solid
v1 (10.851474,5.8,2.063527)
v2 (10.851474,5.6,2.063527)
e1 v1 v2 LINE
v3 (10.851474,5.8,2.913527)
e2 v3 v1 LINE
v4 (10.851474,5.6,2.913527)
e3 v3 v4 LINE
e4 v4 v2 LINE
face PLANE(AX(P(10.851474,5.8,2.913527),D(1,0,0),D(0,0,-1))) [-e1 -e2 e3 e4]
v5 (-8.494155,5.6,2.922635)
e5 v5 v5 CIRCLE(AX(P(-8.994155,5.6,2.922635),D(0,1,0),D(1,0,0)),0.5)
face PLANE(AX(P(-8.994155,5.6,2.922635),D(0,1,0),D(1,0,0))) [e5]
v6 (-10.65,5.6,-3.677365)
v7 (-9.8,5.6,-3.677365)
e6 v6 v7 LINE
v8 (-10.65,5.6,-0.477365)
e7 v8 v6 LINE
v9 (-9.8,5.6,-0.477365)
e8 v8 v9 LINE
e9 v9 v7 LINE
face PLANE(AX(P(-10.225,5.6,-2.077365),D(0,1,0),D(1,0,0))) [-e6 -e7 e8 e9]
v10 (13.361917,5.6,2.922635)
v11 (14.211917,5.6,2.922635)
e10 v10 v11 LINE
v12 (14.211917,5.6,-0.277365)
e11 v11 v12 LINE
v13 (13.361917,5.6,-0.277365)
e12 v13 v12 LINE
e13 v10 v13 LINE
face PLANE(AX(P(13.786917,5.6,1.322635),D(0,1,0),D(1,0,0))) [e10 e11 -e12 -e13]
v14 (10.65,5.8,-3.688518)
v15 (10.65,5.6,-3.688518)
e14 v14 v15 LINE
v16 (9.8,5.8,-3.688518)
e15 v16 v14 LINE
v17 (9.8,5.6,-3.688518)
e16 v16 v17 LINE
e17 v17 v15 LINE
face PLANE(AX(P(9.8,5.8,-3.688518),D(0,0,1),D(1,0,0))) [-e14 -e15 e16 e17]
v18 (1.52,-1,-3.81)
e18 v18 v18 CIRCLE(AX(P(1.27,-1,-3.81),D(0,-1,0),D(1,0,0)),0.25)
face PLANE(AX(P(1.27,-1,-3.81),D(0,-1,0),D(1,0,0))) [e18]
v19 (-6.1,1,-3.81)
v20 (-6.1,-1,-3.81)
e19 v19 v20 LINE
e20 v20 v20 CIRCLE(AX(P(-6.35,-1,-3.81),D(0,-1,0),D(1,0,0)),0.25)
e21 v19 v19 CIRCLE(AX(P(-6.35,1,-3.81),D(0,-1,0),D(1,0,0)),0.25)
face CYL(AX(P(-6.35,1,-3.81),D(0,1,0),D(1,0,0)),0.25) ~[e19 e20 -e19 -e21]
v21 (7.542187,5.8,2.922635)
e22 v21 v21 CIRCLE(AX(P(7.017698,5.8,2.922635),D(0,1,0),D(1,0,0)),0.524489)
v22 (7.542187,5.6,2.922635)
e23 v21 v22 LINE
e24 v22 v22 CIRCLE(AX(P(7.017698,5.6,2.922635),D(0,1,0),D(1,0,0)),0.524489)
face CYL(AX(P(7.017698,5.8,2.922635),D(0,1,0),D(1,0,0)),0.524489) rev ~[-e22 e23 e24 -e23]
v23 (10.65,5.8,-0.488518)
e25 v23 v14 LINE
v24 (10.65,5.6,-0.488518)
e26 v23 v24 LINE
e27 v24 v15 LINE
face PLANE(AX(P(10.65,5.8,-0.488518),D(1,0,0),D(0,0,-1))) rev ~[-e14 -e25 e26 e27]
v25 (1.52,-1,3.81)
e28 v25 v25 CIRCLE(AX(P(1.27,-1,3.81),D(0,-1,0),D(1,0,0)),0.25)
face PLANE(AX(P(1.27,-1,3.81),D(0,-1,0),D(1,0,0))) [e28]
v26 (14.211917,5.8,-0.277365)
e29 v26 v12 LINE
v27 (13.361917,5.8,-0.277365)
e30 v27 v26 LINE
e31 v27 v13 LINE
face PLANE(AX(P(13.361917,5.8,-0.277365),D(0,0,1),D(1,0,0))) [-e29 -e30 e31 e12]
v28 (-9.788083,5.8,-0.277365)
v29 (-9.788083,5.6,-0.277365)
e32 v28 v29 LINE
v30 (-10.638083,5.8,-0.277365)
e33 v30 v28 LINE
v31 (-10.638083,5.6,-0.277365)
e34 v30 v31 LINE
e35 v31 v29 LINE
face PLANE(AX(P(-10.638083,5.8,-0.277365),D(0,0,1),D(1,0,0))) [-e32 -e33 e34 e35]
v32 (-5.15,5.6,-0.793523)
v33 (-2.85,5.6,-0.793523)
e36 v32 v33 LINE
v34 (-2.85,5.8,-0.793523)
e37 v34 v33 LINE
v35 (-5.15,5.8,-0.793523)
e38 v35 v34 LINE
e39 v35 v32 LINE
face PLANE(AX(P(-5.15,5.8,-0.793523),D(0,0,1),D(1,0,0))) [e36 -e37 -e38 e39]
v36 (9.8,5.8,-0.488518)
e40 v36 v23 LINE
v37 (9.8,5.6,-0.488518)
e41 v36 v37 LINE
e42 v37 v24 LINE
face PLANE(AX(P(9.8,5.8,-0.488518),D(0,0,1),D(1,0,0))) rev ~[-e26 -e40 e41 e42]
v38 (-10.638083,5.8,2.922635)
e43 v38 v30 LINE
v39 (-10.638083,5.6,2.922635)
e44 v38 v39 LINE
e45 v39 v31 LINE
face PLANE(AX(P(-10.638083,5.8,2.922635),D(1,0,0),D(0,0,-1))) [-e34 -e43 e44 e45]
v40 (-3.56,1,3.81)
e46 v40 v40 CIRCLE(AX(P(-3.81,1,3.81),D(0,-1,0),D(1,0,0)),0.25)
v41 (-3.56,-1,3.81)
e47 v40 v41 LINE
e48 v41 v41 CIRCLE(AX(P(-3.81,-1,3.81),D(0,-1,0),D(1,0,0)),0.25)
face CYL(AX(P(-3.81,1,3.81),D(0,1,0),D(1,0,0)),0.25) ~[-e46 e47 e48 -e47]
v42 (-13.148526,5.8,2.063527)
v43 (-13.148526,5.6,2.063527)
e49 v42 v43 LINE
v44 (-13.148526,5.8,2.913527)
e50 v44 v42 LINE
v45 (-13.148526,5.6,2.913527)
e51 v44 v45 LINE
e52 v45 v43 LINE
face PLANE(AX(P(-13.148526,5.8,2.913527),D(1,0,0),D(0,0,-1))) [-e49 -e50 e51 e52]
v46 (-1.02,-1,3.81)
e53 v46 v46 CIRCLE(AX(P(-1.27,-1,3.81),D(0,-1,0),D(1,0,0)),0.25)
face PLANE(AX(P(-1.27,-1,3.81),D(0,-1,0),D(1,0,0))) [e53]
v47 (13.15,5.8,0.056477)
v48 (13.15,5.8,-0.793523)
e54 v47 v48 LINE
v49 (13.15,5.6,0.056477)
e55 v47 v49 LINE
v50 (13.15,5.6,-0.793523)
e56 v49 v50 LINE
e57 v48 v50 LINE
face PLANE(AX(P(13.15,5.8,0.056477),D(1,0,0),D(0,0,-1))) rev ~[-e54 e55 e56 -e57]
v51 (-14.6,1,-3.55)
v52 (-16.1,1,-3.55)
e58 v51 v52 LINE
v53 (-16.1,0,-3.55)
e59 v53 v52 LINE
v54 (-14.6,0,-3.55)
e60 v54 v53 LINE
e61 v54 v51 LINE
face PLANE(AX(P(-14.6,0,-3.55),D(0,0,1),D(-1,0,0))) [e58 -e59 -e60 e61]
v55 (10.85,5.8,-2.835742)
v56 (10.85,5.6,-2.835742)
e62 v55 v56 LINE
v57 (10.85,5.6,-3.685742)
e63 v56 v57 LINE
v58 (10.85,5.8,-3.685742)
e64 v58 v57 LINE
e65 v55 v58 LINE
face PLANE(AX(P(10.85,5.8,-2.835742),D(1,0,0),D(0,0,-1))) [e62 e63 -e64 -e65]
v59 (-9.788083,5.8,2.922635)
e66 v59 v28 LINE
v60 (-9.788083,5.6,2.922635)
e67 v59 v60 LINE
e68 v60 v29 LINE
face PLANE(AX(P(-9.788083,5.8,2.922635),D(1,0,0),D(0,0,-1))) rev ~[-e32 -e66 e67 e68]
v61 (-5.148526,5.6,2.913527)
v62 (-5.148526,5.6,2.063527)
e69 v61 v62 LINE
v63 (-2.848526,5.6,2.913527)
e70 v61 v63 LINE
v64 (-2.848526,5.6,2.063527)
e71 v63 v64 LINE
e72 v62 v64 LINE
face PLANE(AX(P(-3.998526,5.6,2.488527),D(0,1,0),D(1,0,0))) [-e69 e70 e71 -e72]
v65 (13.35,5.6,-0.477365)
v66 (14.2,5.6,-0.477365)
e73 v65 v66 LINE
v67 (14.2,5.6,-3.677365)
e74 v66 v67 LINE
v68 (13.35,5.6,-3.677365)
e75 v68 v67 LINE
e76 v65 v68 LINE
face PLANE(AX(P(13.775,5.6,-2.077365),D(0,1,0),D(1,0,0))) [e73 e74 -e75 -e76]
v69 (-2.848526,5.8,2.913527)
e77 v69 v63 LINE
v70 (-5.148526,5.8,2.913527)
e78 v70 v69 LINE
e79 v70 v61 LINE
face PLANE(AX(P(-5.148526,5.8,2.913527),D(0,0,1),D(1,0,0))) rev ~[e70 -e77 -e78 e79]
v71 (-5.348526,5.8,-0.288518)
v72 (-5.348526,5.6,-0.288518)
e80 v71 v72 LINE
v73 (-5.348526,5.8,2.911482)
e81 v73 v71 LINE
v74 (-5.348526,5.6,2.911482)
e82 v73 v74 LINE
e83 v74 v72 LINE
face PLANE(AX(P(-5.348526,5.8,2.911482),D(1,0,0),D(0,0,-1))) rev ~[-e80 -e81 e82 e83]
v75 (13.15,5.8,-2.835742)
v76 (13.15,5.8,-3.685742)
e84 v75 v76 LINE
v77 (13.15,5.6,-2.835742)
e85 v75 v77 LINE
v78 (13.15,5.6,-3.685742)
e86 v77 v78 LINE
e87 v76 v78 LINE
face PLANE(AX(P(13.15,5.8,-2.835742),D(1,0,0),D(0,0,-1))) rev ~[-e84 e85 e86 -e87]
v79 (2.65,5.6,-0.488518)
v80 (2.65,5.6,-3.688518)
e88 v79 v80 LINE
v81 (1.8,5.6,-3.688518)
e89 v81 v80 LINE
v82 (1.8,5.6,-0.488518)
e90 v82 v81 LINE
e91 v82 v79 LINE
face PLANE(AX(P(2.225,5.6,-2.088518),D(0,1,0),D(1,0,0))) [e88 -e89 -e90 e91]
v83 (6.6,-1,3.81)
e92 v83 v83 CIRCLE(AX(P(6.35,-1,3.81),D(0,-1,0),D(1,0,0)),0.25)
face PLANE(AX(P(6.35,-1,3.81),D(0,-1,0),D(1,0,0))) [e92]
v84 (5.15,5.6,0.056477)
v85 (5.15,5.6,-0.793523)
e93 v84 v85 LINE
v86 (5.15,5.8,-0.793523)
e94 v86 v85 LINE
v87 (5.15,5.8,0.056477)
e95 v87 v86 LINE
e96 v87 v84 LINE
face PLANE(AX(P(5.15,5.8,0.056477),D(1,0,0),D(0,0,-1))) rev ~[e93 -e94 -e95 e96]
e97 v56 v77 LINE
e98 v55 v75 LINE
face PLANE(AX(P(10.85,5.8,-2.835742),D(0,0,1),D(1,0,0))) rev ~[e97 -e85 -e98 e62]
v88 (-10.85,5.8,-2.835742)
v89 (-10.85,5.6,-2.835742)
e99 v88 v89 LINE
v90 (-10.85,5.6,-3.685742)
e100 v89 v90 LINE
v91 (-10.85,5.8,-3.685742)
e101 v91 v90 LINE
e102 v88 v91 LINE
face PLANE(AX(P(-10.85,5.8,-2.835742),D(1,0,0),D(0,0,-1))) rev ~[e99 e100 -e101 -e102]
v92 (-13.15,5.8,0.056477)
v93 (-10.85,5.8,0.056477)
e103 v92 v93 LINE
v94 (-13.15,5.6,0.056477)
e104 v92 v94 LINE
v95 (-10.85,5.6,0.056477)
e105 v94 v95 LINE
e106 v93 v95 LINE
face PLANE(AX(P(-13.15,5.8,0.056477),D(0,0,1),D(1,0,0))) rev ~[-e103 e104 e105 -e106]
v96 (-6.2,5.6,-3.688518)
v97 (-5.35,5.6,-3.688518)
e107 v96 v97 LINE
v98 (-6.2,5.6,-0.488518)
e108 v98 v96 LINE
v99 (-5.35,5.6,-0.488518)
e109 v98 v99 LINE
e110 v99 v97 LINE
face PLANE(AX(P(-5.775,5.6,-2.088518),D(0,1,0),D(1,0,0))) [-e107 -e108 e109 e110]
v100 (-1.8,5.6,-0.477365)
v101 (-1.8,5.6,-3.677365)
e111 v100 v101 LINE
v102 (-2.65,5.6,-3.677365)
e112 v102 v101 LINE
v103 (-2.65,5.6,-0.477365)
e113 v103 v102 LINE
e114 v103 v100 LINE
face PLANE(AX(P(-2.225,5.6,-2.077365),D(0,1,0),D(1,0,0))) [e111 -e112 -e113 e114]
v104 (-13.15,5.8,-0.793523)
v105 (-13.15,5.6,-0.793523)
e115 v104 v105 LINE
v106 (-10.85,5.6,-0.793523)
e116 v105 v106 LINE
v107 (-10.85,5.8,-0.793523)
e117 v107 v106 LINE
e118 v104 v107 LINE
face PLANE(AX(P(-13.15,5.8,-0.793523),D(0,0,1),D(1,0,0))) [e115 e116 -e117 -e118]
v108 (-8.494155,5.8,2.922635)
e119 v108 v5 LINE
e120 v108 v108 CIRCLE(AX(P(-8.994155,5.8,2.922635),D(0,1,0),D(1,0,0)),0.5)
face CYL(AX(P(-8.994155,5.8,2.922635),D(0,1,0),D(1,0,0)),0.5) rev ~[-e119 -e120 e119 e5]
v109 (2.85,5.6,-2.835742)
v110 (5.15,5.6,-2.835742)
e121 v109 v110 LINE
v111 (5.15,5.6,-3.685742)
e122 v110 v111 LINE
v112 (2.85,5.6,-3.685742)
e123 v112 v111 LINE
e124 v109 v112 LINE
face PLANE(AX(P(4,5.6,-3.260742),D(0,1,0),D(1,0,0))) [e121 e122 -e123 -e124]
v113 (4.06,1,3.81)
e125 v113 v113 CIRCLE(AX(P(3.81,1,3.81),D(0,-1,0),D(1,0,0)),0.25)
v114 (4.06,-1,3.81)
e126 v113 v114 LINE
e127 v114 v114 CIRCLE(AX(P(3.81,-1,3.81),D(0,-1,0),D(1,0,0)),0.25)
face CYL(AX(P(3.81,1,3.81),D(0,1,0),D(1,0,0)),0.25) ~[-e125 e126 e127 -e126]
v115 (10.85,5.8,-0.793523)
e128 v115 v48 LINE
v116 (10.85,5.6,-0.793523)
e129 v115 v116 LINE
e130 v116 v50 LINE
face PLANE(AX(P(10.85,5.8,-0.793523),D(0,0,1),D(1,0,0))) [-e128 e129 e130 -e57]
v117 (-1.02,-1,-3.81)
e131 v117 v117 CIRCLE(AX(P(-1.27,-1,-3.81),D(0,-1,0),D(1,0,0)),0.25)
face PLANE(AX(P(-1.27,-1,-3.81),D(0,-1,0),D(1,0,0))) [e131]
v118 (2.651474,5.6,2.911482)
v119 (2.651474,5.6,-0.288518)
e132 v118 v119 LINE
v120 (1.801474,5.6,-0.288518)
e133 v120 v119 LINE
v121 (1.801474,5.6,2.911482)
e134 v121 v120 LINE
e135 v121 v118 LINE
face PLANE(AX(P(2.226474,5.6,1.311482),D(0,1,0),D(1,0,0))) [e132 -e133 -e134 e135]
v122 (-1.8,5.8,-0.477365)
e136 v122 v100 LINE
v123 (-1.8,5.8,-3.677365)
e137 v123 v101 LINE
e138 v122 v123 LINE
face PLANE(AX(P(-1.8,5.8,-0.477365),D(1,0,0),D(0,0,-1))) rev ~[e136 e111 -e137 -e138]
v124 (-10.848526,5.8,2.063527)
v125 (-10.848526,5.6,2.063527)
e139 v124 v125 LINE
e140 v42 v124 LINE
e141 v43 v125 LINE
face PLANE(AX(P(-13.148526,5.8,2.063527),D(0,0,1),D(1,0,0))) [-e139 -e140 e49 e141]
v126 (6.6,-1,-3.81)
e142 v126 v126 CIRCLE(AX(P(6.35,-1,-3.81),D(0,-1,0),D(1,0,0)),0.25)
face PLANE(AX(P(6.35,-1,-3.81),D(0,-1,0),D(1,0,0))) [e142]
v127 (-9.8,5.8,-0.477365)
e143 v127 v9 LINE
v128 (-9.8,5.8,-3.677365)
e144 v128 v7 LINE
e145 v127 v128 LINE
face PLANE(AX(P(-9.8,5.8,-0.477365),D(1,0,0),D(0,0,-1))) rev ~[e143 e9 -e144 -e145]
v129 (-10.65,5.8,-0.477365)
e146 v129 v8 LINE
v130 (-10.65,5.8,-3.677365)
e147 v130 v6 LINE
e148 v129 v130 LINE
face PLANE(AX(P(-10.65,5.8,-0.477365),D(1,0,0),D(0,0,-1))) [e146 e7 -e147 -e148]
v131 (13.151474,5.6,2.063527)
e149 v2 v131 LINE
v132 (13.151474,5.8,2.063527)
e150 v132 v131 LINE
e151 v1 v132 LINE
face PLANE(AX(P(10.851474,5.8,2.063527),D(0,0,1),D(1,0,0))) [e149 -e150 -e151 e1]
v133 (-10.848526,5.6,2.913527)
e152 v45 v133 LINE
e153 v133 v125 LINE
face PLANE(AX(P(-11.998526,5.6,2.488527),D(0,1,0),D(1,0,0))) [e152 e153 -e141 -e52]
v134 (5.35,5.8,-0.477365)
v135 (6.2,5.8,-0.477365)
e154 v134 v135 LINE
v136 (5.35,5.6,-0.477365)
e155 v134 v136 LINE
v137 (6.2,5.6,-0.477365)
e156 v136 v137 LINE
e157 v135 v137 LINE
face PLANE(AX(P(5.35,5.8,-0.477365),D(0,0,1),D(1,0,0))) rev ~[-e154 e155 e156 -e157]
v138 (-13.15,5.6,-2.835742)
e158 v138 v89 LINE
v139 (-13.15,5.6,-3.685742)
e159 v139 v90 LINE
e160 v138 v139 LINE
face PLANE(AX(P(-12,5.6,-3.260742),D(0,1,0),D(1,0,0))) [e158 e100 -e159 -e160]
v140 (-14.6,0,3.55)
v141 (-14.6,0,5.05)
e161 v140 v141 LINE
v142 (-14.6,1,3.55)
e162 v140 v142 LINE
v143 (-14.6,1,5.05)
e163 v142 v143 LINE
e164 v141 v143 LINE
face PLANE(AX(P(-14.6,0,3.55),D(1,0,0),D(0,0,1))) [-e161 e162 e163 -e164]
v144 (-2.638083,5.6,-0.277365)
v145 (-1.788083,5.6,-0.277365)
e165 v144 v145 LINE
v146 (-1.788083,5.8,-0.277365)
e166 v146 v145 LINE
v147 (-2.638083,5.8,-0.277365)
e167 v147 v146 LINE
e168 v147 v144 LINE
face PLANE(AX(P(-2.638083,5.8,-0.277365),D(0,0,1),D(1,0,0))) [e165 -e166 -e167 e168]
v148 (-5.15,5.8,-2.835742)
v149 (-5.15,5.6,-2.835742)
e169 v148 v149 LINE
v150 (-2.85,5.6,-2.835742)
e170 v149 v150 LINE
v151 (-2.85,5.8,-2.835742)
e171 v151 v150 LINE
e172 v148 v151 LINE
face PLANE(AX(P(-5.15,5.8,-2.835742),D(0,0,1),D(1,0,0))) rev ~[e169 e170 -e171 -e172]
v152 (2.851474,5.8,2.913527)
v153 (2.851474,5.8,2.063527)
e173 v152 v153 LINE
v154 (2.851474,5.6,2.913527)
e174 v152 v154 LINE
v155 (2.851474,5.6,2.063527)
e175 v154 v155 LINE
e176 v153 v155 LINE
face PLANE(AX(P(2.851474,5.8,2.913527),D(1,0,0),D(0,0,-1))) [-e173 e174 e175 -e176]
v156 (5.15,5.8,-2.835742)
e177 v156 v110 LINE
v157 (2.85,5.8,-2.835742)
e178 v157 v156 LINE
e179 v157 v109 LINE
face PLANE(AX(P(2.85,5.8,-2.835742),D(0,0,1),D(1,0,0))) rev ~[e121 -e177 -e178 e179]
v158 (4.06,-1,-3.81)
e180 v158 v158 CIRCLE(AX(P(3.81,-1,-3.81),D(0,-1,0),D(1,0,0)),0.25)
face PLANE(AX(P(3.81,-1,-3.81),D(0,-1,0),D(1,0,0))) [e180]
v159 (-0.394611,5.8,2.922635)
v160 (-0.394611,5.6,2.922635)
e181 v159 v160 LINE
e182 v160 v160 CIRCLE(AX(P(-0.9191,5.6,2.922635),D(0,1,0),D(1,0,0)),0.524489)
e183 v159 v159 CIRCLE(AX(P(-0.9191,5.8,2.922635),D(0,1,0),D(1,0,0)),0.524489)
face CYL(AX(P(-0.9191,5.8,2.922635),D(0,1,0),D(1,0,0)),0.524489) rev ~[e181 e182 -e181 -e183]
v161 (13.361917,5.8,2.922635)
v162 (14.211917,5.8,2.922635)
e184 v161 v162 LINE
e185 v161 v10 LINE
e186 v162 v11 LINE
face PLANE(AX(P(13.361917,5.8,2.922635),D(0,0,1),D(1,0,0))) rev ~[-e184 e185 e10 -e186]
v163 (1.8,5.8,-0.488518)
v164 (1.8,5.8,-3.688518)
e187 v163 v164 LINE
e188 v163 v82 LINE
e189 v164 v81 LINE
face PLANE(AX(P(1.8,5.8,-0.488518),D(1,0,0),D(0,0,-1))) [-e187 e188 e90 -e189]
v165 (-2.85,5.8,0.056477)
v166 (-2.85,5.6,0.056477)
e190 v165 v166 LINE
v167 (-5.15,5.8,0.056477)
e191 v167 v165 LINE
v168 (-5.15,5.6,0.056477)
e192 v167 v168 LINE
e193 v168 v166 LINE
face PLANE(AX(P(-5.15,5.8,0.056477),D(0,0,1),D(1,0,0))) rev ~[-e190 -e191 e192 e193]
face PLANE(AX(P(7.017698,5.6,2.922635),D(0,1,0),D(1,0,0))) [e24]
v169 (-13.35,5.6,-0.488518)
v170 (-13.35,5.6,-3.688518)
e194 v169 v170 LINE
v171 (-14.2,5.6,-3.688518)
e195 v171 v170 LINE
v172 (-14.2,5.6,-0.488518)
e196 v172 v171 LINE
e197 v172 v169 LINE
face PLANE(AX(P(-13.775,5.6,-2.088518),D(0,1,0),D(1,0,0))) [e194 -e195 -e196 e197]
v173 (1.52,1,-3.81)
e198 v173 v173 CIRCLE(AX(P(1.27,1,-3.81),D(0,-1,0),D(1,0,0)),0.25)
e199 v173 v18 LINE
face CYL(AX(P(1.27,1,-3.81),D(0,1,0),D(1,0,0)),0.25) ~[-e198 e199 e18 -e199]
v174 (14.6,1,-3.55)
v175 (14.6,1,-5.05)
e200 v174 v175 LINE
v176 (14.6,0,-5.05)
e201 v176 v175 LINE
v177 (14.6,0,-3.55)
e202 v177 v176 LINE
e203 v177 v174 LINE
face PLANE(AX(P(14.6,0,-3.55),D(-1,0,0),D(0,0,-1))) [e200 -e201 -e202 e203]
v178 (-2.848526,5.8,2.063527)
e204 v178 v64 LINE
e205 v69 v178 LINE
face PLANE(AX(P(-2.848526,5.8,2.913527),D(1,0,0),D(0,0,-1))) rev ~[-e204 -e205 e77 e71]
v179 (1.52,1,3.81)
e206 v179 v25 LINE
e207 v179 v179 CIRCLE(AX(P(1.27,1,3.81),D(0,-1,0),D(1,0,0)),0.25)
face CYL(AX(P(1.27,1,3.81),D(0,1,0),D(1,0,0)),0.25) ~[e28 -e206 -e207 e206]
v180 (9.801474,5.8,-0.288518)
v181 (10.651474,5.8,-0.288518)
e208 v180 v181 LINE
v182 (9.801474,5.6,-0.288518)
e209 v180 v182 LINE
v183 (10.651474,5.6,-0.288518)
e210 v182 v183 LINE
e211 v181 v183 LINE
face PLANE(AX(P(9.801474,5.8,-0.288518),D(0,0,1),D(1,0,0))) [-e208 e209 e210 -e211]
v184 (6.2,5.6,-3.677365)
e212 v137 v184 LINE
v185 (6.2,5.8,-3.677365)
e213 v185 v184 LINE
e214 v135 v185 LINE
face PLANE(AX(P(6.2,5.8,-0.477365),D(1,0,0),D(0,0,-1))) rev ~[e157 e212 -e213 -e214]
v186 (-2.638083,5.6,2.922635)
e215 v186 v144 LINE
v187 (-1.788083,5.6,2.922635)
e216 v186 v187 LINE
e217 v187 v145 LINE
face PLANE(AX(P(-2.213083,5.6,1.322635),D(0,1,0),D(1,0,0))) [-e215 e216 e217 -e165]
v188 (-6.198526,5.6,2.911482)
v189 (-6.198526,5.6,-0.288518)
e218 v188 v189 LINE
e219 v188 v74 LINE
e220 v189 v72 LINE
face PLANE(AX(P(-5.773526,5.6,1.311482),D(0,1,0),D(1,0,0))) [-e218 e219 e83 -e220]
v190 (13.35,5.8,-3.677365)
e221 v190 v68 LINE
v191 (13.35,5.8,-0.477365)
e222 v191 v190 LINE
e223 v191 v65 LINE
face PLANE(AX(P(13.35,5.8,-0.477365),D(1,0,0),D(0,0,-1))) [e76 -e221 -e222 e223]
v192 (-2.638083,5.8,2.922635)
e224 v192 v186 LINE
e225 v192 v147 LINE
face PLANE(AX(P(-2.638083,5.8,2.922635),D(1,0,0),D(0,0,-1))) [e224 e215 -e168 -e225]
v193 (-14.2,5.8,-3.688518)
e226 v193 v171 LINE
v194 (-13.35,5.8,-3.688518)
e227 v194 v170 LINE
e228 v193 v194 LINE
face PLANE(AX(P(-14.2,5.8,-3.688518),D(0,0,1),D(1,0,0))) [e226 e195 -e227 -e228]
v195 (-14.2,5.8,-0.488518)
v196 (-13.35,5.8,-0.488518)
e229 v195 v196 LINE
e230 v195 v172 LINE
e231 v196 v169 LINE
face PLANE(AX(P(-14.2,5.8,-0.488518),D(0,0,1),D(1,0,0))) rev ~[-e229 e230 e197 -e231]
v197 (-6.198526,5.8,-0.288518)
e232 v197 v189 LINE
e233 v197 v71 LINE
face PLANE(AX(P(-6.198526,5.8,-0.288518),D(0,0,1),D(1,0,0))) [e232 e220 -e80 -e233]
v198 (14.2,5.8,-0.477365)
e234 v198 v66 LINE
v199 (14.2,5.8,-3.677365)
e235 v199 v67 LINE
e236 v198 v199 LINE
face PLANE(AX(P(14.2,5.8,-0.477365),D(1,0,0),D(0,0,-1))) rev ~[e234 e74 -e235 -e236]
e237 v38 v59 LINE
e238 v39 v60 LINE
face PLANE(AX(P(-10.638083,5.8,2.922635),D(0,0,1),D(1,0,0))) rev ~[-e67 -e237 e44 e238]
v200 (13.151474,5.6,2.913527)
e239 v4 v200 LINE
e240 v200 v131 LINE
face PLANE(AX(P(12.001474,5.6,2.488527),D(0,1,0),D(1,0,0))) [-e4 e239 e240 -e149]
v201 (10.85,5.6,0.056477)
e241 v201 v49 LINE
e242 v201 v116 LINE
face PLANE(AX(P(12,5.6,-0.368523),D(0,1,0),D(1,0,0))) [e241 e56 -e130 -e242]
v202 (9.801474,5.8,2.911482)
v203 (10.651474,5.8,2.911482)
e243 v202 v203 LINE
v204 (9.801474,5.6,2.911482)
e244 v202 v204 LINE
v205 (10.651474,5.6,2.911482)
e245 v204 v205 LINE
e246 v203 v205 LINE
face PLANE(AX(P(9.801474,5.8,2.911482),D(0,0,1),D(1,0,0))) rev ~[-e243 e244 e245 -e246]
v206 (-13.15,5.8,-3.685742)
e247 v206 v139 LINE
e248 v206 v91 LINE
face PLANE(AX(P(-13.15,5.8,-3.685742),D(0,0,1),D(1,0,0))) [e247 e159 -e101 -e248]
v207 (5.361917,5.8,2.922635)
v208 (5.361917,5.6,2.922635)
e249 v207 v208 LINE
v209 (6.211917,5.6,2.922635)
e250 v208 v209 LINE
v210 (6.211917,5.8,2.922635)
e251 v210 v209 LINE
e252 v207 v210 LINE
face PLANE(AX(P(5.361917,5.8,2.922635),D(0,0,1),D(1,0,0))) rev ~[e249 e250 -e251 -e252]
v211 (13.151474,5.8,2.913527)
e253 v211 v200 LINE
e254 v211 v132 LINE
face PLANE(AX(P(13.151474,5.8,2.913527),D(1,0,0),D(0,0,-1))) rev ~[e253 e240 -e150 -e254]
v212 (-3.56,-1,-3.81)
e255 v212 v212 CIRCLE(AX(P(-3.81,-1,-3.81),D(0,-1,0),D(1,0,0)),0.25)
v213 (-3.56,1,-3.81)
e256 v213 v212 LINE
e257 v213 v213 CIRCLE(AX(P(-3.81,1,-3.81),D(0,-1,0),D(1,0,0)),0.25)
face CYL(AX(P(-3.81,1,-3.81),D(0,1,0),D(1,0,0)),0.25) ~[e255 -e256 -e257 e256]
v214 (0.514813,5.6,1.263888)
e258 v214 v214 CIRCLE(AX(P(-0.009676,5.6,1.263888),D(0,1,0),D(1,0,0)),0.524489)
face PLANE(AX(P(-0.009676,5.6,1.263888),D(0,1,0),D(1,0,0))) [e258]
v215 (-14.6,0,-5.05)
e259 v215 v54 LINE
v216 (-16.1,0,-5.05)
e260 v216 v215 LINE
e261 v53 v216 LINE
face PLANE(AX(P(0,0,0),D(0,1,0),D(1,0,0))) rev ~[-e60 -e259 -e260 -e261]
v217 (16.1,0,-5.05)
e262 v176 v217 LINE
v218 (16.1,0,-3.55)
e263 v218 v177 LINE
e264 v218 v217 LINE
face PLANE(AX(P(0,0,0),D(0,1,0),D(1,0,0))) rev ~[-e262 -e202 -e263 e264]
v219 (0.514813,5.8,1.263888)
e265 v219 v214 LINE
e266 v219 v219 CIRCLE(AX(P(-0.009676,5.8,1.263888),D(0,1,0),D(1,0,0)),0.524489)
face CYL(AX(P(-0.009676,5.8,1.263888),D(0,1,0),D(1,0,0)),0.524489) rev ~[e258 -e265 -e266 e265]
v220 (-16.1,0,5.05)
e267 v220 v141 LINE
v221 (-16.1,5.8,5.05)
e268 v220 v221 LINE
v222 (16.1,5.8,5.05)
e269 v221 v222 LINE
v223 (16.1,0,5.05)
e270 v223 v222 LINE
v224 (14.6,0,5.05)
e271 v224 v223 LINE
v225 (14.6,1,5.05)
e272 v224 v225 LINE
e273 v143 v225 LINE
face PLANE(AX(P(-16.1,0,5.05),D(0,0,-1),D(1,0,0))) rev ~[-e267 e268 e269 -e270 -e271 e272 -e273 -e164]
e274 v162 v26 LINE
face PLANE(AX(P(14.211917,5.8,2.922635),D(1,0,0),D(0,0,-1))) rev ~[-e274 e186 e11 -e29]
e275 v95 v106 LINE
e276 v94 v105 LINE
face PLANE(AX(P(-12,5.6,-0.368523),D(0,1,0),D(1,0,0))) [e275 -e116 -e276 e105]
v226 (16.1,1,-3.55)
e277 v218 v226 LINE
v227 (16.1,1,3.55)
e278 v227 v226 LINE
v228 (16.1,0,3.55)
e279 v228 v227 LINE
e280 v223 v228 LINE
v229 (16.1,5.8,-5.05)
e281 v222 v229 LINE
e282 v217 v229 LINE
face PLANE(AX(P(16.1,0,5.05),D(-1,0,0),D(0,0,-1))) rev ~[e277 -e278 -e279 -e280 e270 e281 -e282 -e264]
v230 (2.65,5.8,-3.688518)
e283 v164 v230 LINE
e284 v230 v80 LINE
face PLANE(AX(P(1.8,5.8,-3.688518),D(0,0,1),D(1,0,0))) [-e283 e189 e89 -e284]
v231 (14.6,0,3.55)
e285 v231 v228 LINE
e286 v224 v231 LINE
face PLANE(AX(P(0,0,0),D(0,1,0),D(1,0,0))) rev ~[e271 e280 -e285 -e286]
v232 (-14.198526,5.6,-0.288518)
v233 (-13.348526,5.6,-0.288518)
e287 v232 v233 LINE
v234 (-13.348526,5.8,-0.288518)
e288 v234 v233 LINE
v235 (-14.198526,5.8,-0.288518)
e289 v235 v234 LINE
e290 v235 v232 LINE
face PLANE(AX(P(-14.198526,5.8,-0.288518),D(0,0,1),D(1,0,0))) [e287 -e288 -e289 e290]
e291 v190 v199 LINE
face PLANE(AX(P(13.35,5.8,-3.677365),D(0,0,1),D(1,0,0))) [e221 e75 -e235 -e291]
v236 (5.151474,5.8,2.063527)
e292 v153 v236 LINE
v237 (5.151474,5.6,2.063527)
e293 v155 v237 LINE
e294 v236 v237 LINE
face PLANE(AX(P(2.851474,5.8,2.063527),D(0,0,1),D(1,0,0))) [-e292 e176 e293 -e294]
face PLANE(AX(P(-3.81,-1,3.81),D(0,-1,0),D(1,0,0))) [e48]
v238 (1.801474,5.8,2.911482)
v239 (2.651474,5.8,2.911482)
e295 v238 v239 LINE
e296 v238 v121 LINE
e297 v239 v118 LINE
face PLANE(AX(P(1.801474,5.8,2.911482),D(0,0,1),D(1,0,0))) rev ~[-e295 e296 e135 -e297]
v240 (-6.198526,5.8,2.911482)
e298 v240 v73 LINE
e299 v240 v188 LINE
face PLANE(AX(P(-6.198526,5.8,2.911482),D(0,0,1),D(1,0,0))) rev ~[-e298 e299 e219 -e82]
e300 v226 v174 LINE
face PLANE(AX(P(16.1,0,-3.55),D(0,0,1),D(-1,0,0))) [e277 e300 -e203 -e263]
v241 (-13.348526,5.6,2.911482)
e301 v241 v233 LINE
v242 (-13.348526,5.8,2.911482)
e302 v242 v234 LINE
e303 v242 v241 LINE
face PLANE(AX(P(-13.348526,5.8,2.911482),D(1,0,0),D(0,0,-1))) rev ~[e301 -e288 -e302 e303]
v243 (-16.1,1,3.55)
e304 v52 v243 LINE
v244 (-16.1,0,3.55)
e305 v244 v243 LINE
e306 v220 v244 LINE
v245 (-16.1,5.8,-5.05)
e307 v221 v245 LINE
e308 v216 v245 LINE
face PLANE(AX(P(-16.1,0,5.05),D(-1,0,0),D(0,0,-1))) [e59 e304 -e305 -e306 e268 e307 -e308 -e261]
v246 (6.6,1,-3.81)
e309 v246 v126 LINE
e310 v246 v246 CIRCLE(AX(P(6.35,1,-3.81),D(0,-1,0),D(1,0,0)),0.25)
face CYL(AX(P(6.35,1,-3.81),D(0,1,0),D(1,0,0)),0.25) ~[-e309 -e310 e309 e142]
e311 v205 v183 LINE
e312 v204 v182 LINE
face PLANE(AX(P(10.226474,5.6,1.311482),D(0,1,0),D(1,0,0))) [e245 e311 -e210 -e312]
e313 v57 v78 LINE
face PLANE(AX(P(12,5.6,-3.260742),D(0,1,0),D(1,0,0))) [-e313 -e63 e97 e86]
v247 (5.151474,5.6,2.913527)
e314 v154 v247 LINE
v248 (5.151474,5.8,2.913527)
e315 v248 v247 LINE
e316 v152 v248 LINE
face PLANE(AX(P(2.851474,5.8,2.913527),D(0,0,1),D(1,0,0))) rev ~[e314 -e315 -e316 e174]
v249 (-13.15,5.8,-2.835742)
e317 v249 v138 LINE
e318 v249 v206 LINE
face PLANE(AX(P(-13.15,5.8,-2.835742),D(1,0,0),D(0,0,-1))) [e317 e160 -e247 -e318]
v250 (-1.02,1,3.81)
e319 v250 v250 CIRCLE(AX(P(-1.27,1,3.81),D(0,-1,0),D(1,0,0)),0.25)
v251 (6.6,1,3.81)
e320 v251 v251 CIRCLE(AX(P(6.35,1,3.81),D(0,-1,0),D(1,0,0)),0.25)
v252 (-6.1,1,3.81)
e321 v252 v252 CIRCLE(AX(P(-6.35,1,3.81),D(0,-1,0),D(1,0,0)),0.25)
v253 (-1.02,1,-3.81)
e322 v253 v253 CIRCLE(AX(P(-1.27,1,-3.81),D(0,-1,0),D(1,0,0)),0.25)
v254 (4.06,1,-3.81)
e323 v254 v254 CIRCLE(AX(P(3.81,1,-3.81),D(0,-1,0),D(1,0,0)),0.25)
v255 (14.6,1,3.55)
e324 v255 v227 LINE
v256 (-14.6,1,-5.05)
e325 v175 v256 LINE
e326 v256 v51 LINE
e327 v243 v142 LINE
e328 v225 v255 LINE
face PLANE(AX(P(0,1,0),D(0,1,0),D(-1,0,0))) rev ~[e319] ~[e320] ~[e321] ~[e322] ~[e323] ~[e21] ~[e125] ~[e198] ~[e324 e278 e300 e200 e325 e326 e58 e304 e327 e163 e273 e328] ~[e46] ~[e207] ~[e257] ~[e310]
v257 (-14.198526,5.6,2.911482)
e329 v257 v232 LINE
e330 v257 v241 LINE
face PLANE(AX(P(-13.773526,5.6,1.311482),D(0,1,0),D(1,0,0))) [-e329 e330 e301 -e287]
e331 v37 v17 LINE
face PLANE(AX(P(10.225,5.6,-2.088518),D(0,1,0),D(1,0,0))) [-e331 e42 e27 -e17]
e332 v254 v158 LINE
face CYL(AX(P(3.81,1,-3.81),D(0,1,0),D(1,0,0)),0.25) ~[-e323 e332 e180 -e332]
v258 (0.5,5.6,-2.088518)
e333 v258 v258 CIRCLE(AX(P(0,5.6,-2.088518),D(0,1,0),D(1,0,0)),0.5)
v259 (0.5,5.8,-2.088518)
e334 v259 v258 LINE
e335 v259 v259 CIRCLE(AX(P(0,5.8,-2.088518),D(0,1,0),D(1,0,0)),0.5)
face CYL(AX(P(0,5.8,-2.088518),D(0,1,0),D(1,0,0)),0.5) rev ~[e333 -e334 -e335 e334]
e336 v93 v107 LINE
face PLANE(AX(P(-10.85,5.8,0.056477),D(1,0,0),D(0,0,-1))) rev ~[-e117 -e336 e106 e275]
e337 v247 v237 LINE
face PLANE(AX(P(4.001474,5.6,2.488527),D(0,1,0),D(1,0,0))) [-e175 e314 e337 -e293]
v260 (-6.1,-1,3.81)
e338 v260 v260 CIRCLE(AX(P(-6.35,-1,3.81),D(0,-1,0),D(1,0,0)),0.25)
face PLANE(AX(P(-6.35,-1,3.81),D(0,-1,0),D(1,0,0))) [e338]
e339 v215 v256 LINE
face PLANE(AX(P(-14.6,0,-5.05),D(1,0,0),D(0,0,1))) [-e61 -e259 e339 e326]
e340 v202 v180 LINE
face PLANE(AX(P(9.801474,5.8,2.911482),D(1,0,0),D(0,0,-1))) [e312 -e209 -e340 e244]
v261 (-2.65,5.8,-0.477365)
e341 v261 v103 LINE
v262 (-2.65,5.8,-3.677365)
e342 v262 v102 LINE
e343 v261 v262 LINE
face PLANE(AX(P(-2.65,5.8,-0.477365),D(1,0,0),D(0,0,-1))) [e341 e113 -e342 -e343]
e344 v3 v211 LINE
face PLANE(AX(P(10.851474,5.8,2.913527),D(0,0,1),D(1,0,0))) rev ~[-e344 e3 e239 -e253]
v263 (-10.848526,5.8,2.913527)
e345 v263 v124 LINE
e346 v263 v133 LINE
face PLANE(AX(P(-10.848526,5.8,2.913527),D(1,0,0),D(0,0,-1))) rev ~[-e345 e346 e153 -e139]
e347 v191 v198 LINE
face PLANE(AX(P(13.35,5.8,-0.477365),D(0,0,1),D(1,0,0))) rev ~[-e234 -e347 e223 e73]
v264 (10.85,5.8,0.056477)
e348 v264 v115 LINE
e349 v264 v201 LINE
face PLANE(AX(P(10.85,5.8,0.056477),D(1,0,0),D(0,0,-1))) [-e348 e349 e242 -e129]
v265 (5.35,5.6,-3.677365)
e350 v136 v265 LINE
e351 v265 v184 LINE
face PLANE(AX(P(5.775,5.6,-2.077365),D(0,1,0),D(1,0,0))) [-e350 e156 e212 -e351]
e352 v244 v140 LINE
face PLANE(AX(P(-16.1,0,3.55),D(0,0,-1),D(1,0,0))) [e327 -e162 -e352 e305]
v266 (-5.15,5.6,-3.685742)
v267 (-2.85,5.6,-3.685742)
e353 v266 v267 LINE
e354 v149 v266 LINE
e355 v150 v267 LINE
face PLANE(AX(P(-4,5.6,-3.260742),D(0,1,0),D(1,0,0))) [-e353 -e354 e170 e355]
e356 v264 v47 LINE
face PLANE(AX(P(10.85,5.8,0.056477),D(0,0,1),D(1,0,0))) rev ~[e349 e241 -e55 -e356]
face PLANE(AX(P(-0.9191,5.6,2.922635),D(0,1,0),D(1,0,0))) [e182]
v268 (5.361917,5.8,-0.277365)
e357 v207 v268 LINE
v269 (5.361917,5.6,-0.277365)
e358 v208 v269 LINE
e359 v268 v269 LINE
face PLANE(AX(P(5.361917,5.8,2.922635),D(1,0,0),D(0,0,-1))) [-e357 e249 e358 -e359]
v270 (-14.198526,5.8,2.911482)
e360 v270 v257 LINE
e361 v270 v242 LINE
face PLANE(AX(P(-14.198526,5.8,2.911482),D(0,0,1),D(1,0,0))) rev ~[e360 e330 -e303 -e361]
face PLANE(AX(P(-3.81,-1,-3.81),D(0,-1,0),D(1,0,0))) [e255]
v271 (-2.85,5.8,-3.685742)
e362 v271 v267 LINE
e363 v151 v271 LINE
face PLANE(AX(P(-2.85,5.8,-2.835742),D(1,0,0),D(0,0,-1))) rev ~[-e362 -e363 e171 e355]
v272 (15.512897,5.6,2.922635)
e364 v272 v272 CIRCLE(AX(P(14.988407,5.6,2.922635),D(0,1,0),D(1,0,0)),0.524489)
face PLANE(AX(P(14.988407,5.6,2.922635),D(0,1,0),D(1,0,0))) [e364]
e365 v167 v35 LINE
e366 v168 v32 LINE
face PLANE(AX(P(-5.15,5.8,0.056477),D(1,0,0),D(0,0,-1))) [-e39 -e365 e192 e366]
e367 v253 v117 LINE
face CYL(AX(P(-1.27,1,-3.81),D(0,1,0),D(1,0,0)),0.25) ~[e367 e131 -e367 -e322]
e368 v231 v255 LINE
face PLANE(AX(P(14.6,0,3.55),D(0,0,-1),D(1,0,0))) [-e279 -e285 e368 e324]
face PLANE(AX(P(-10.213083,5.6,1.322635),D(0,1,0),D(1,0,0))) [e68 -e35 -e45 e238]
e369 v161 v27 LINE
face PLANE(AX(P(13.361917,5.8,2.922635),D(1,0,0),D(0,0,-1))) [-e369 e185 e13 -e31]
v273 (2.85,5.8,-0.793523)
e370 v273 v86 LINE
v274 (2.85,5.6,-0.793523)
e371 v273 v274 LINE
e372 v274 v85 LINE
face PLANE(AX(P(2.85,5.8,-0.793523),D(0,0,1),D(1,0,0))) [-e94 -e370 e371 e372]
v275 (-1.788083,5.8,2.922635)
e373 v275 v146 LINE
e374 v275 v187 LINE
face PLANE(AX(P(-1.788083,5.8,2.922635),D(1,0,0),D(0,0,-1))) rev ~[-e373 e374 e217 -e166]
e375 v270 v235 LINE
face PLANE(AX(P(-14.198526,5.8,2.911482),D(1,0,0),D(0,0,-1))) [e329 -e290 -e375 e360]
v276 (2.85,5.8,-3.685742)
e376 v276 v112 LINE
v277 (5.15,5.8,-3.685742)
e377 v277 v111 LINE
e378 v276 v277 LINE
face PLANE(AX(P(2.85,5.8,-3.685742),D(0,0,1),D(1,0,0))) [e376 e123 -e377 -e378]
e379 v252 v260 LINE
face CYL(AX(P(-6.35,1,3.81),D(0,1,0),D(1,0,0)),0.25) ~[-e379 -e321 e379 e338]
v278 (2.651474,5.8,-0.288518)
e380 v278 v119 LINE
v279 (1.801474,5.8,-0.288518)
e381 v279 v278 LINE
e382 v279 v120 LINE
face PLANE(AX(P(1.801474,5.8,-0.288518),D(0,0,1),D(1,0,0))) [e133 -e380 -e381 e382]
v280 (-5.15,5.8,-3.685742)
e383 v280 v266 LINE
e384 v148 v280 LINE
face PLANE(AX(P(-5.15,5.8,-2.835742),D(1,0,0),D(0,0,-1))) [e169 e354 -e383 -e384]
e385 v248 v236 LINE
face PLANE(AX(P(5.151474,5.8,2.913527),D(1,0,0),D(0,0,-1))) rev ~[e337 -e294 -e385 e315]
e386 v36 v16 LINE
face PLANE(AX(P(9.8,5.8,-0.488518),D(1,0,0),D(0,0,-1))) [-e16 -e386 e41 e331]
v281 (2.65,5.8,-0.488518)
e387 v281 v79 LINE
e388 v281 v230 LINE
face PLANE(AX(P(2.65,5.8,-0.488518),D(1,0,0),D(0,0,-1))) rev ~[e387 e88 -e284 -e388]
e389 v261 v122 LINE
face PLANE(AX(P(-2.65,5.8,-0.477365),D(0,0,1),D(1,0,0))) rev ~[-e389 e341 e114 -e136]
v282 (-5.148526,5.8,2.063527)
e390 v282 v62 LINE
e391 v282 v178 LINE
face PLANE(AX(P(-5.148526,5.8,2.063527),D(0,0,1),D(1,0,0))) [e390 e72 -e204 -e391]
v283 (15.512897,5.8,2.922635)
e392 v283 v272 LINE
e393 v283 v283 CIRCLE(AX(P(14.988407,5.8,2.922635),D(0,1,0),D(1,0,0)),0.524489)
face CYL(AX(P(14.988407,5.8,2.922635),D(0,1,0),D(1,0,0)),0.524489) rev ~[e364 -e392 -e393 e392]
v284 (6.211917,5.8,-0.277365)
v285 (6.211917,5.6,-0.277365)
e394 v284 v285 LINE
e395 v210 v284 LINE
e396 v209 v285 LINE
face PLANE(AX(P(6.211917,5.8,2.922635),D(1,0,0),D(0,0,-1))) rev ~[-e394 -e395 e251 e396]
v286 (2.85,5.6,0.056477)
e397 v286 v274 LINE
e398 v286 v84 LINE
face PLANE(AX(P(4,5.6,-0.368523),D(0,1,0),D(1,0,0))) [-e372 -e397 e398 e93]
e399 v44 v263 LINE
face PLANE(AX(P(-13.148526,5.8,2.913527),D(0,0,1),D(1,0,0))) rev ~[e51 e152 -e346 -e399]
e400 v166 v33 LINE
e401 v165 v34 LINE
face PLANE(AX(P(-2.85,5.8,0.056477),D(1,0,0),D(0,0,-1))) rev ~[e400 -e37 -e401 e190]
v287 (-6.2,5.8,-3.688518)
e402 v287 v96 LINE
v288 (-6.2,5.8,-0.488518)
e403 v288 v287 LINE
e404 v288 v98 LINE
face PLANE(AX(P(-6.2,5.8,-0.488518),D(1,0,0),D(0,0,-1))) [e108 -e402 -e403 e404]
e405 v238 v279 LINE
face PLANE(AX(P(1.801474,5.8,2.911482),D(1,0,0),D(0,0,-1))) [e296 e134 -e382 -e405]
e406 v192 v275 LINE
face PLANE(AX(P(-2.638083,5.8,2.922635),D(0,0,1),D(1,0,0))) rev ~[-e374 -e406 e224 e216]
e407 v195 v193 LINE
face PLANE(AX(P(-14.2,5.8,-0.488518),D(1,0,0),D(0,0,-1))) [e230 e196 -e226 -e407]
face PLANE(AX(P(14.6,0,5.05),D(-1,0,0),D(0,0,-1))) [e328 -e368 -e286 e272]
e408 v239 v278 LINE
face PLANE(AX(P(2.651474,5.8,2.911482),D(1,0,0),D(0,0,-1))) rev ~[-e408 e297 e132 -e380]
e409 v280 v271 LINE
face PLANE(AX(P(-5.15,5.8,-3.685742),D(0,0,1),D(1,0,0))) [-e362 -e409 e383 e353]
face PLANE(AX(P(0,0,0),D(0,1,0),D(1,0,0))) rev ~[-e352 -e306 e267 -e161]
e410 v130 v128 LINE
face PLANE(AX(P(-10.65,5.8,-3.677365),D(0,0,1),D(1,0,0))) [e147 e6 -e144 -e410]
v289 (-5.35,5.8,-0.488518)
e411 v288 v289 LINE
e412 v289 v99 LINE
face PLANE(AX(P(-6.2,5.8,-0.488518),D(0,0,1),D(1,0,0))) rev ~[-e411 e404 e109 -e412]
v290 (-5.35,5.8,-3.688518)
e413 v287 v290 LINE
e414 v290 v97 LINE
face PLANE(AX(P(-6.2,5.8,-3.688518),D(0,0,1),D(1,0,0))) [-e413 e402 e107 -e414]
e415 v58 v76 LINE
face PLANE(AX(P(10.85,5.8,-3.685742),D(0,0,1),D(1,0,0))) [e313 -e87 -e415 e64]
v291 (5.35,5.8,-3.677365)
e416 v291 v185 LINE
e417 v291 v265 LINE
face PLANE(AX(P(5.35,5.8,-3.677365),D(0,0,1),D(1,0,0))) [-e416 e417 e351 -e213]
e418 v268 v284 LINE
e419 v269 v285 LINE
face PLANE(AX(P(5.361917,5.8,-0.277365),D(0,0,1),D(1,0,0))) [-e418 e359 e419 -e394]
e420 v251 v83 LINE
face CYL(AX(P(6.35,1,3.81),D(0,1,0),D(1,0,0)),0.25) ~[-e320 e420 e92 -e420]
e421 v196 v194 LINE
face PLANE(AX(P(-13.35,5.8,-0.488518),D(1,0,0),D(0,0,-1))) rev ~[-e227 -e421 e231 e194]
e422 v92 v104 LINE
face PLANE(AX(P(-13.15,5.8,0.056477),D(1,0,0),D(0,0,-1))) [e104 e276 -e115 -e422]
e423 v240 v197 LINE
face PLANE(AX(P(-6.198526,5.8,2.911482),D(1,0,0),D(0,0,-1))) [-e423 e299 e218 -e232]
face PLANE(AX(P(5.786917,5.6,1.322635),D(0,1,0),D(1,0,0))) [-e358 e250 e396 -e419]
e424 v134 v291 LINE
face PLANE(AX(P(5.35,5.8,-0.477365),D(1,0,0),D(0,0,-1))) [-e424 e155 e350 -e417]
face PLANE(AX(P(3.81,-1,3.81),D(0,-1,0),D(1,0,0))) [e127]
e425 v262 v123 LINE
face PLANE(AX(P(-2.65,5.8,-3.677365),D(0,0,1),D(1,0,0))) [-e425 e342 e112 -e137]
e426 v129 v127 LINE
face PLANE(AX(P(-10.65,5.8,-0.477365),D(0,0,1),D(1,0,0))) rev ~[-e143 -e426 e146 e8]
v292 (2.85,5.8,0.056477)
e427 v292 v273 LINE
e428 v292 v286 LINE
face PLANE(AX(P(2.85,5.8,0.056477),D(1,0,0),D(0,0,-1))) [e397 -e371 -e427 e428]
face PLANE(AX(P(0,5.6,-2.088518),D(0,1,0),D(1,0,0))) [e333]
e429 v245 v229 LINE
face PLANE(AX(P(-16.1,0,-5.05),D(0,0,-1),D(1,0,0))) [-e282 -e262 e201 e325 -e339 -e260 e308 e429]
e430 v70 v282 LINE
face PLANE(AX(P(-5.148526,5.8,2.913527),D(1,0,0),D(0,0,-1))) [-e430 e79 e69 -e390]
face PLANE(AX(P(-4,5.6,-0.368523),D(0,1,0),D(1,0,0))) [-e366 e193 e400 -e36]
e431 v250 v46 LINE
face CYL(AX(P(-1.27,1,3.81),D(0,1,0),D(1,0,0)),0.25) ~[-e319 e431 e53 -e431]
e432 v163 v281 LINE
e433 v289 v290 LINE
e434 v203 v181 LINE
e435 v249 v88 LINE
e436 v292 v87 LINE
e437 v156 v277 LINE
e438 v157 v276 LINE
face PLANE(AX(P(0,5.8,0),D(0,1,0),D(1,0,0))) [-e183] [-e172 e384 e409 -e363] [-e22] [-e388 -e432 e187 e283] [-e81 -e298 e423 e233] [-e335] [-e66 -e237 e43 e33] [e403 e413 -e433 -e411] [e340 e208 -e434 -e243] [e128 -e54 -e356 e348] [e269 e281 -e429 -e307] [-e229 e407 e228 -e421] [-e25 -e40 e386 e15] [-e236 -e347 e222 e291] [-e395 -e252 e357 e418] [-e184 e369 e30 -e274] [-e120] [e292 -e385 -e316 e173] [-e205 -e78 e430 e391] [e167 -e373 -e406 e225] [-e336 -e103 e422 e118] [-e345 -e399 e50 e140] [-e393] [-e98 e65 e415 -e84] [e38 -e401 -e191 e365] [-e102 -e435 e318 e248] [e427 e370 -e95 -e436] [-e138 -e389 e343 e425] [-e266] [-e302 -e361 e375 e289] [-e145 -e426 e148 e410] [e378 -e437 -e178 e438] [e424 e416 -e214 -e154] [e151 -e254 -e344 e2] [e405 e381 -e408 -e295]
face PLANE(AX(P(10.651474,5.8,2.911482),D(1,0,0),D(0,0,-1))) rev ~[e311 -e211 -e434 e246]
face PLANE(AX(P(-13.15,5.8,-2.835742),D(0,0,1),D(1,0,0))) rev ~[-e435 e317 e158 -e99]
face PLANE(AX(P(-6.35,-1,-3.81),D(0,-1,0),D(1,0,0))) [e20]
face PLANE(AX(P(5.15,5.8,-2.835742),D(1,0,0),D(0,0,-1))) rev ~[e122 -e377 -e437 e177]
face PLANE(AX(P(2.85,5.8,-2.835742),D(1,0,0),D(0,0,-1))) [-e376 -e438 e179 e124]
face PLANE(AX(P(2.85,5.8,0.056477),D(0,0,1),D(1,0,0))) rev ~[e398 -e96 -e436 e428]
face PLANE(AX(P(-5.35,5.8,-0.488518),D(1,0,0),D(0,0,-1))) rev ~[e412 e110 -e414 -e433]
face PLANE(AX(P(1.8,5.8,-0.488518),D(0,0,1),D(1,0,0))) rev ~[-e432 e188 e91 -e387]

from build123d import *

# Parameters (mm, degrees)
SKETCH_1_W          = 32.2
SKETCH_1_H          = 10.1
EXTRUDE_1_DEPTH     = 5.8
CUT_EXTRUDE_1_DEPTH = 1
SKETCH_3_R          = 0.25
EXTRUDE_2_DEPTH     = 2
SKETCH_4_R          = 0.5
SKETCH_4_R_2        = 0.524489224
SKETCH_4_W          = 0.85
SKETCH_4_H          = 3.2
SKETCH_4_W_2        = 2.3
SKETCH_4_H_2        = 0.85
CUT_EXTRUDE_2_DEPTH = 0.2


with BuildPart() as part:
    # Эскиз1 → Бобышка-Вытянуть1 (new body)
    with BuildSketch(Plane(origin=(0, 0, 0), x_dir=(1, 0, 0), z_dir=(0, 1, 0))):
        Rectangle(SKETCH_1_W, SKETCH_1_H)
    extrude(amount=EXTRUDE_1_DEPTH)

    # Эскиз2 → Вырез-Вытянуть1 (cut)
    with BuildSketch(Plane.XZ):
        Polygon((-16.1, 3.55), (-14.6, 3.55), (-14.6, 5.05), (14.6, 5.05), (14.6, 3.55), (16.1, 3.55), (16.1, -3.55), (14.6, -3.55), (14.6, -5.05), (-14.6, -5.05), (-14.6, -3.55), (-16.1, -3.55), align=None)
    extrude(amount=-CUT_EXTRUDE_1_DEPTH, mode=Mode.SUBTRACT)

    # Эскиз3 → Бобышка-Вытянуть2 (add)
    with BuildSketch(Plane.XZ.offset(-1)):
        with Locations((-6.35, 3.81)):
            Circle(SKETCH_3_R)
        with Locations((-3.81, 3.81)):
            Circle(SKETCH_3_R)
        with Locations((-1.27, 3.81)):
            Circle(SKETCH_3_R)
        with Locations((1.27, 3.81)):
            Circle(SKETCH_3_R)
        with Locations((3.81, 3.81)):
            Circle(SKETCH_3_R)
        with Locations((6.35, 3.81)):
            Circle(SKETCH_3_R)
        with Locations((-3.81, -3.81)):
            Circle(SKETCH_3_R)
        with Locations((-1.27, -3.81)):
            Circle(SKETCH_3_R)
        with Locations((1.27, -3.81)):
            Circle(SKETCH_3_R)
        with Locations((3.81, -3.81)):
            Circle(SKETCH_3_R)
        with Locations((6.35, -3.81)):
            Circle(SKETCH_3_R)
        with Locations((-6.35, -3.81)):
            Circle(SKETCH_3_R)
    extrude(amount=EXTRUDE_2_DEPTH)

    # Эскиз4 → Вырез-Вытянуть2 (cut)
    with BuildSketch(Plane(origin=(0, 5.8, 0), x_dir=(1, 0, 0), z_dir=(0, 1, 0))):
        with Locations((0, 2.088518093)):
            Circle(SKETCH_4_R)
        with Locations((-8.994155163, -2.922635465)):
            Circle(SKETCH_4_R)
        with Locations((-0.009676216, -1.263887704)):
            Circle(SKETCH_4_R_2)
        with Locations((-0.919099914, -2.922635465)):
            Circle(SKETCH_4_R_2)
        with Locations((14.988407473, -2.922635465)):
            Circle(SKETCH_4_R_2)
        with Locations((7.017698273, -2.922635465)):
            Circle(SKETCH_4_R_2)
        with Locations((-13.773526097, -1.311481907)):
            Rectangle(SKETCH_4_W, SKETCH_4_H)
        with Locations((-12, 3.260742105)):
            Rectangle(SKETCH_4_W_2, SKETCH_4_H_2)
        with Locations((-13.775, 2.088518093)):
            Rectangle(SKETCH_4_W, SKETCH_4_H)
        with Locations((-10.225, 2.077364535)):
            Rectangle(SKETCH_4_W, SKETCH_4_H)
        with Locations((-10.213082834, -1.322635465)):
            Rectangle(SKETCH_4_W, SKETCH_4_H)
        with Locations((-12, 0.368523253)):
            Rectangle(SKETCH_4_W_2, SKETCH_4_H_2)
        with Locations((-11.998526097, -2.488527153)):
            Rectangle(SKETCH_4_W_2, SKETCH_4_H_2)
        with Locations((-5.773526097, -1.311481907)):
            Rectangle(SKETCH_4_W, SKETCH_4_H)
        with Locations((-4, 3.260742105)):
            Rectangle(SKETCH_4_W_2, SKETCH_4_H_2)
        with Locations((-5.775, 2.088518093)):
            Rectangle(SKETCH_4_W, SKETCH_4_H)
        with Locations((-2.225, 2.077364535)):
            Rectangle(SKETCH_4_W, SKETCH_4_H)
        with Locations((-2.213082834, -1.322635465)):
            Rectangle(SKETCH_4_W, SKETCH_4_H)
        with Locations((-4, 0.368523253)):
            Rectangle(SKETCH_4_W_2, SKETCH_4_H_2)
        with Locations((-3.998526097, -2.488527153)):
            Rectangle(SKETCH_4_W_2, SKETCH_4_H_2)
        with Locations((2.226473903, -1.311481907)):
            Rectangle(SKETCH_4_W, SKETCH_4_H)
        with Locations((4, 3.260742105)):
            Rectangle(SKETCH_4_W_2, SKETCH_4_H_2)
        with Locations((2.225, 2.088518093)):
            Rectangle(SKETCH_4_W, SKETCH_4_H)
        with Locations((5.775, 2.077364535)):
            Rectangle(SKETCH_4_W, SKETCH_4_H)
        with Locations((5.786917166, -1.322635465)):
            Rectangle(SKETCH_4_W, SKETCH_4_H)
        with Locations((4, 0.368523253)):
            Rectangle(SKETCH_4_W_2, SKETCH_4_H_2)
        with Locations((4.001473903, -2.488527153)):
            Rectangle(SKETCH_4_W_2, SKETCH_4_H_2)
        with Locations((10.226473903, -1.311481907)):
            Rectangle(SKETCH_4_W, SKETCH_4_H)
        with Locations((12, 3.260742105)):
            Rectangle(SKETCH_4_W_2, SKETCH_4_H_2)
        with Locations((10.225, 2.088518093)):
            Rectangle(SKETCH_4_W, SKETCH_4_H)
        with Locations((13.775, 2.077364535)):
            Rectangle(SKETCH_4_W, SKETCH_4_H)
        with Locations((13.786917166, -1.322635465)):
            Rectangle(SKETCH_4_W, SKETCH_4_H)
        with Locations((12, 0.368523253)):
            Rectangle(SKETCH_4_W_2, SKETCH_4_H_2)
        with Locations((12.001473903, -2.488527153)):
            Rectangle(SKETCH_4_W_2, SKETCH_4_H_2)
    extrude(amount=-CUT_EXTRUDE_2_DEPTH, mode=Mode.SUBTRACT)


solid = part.part
